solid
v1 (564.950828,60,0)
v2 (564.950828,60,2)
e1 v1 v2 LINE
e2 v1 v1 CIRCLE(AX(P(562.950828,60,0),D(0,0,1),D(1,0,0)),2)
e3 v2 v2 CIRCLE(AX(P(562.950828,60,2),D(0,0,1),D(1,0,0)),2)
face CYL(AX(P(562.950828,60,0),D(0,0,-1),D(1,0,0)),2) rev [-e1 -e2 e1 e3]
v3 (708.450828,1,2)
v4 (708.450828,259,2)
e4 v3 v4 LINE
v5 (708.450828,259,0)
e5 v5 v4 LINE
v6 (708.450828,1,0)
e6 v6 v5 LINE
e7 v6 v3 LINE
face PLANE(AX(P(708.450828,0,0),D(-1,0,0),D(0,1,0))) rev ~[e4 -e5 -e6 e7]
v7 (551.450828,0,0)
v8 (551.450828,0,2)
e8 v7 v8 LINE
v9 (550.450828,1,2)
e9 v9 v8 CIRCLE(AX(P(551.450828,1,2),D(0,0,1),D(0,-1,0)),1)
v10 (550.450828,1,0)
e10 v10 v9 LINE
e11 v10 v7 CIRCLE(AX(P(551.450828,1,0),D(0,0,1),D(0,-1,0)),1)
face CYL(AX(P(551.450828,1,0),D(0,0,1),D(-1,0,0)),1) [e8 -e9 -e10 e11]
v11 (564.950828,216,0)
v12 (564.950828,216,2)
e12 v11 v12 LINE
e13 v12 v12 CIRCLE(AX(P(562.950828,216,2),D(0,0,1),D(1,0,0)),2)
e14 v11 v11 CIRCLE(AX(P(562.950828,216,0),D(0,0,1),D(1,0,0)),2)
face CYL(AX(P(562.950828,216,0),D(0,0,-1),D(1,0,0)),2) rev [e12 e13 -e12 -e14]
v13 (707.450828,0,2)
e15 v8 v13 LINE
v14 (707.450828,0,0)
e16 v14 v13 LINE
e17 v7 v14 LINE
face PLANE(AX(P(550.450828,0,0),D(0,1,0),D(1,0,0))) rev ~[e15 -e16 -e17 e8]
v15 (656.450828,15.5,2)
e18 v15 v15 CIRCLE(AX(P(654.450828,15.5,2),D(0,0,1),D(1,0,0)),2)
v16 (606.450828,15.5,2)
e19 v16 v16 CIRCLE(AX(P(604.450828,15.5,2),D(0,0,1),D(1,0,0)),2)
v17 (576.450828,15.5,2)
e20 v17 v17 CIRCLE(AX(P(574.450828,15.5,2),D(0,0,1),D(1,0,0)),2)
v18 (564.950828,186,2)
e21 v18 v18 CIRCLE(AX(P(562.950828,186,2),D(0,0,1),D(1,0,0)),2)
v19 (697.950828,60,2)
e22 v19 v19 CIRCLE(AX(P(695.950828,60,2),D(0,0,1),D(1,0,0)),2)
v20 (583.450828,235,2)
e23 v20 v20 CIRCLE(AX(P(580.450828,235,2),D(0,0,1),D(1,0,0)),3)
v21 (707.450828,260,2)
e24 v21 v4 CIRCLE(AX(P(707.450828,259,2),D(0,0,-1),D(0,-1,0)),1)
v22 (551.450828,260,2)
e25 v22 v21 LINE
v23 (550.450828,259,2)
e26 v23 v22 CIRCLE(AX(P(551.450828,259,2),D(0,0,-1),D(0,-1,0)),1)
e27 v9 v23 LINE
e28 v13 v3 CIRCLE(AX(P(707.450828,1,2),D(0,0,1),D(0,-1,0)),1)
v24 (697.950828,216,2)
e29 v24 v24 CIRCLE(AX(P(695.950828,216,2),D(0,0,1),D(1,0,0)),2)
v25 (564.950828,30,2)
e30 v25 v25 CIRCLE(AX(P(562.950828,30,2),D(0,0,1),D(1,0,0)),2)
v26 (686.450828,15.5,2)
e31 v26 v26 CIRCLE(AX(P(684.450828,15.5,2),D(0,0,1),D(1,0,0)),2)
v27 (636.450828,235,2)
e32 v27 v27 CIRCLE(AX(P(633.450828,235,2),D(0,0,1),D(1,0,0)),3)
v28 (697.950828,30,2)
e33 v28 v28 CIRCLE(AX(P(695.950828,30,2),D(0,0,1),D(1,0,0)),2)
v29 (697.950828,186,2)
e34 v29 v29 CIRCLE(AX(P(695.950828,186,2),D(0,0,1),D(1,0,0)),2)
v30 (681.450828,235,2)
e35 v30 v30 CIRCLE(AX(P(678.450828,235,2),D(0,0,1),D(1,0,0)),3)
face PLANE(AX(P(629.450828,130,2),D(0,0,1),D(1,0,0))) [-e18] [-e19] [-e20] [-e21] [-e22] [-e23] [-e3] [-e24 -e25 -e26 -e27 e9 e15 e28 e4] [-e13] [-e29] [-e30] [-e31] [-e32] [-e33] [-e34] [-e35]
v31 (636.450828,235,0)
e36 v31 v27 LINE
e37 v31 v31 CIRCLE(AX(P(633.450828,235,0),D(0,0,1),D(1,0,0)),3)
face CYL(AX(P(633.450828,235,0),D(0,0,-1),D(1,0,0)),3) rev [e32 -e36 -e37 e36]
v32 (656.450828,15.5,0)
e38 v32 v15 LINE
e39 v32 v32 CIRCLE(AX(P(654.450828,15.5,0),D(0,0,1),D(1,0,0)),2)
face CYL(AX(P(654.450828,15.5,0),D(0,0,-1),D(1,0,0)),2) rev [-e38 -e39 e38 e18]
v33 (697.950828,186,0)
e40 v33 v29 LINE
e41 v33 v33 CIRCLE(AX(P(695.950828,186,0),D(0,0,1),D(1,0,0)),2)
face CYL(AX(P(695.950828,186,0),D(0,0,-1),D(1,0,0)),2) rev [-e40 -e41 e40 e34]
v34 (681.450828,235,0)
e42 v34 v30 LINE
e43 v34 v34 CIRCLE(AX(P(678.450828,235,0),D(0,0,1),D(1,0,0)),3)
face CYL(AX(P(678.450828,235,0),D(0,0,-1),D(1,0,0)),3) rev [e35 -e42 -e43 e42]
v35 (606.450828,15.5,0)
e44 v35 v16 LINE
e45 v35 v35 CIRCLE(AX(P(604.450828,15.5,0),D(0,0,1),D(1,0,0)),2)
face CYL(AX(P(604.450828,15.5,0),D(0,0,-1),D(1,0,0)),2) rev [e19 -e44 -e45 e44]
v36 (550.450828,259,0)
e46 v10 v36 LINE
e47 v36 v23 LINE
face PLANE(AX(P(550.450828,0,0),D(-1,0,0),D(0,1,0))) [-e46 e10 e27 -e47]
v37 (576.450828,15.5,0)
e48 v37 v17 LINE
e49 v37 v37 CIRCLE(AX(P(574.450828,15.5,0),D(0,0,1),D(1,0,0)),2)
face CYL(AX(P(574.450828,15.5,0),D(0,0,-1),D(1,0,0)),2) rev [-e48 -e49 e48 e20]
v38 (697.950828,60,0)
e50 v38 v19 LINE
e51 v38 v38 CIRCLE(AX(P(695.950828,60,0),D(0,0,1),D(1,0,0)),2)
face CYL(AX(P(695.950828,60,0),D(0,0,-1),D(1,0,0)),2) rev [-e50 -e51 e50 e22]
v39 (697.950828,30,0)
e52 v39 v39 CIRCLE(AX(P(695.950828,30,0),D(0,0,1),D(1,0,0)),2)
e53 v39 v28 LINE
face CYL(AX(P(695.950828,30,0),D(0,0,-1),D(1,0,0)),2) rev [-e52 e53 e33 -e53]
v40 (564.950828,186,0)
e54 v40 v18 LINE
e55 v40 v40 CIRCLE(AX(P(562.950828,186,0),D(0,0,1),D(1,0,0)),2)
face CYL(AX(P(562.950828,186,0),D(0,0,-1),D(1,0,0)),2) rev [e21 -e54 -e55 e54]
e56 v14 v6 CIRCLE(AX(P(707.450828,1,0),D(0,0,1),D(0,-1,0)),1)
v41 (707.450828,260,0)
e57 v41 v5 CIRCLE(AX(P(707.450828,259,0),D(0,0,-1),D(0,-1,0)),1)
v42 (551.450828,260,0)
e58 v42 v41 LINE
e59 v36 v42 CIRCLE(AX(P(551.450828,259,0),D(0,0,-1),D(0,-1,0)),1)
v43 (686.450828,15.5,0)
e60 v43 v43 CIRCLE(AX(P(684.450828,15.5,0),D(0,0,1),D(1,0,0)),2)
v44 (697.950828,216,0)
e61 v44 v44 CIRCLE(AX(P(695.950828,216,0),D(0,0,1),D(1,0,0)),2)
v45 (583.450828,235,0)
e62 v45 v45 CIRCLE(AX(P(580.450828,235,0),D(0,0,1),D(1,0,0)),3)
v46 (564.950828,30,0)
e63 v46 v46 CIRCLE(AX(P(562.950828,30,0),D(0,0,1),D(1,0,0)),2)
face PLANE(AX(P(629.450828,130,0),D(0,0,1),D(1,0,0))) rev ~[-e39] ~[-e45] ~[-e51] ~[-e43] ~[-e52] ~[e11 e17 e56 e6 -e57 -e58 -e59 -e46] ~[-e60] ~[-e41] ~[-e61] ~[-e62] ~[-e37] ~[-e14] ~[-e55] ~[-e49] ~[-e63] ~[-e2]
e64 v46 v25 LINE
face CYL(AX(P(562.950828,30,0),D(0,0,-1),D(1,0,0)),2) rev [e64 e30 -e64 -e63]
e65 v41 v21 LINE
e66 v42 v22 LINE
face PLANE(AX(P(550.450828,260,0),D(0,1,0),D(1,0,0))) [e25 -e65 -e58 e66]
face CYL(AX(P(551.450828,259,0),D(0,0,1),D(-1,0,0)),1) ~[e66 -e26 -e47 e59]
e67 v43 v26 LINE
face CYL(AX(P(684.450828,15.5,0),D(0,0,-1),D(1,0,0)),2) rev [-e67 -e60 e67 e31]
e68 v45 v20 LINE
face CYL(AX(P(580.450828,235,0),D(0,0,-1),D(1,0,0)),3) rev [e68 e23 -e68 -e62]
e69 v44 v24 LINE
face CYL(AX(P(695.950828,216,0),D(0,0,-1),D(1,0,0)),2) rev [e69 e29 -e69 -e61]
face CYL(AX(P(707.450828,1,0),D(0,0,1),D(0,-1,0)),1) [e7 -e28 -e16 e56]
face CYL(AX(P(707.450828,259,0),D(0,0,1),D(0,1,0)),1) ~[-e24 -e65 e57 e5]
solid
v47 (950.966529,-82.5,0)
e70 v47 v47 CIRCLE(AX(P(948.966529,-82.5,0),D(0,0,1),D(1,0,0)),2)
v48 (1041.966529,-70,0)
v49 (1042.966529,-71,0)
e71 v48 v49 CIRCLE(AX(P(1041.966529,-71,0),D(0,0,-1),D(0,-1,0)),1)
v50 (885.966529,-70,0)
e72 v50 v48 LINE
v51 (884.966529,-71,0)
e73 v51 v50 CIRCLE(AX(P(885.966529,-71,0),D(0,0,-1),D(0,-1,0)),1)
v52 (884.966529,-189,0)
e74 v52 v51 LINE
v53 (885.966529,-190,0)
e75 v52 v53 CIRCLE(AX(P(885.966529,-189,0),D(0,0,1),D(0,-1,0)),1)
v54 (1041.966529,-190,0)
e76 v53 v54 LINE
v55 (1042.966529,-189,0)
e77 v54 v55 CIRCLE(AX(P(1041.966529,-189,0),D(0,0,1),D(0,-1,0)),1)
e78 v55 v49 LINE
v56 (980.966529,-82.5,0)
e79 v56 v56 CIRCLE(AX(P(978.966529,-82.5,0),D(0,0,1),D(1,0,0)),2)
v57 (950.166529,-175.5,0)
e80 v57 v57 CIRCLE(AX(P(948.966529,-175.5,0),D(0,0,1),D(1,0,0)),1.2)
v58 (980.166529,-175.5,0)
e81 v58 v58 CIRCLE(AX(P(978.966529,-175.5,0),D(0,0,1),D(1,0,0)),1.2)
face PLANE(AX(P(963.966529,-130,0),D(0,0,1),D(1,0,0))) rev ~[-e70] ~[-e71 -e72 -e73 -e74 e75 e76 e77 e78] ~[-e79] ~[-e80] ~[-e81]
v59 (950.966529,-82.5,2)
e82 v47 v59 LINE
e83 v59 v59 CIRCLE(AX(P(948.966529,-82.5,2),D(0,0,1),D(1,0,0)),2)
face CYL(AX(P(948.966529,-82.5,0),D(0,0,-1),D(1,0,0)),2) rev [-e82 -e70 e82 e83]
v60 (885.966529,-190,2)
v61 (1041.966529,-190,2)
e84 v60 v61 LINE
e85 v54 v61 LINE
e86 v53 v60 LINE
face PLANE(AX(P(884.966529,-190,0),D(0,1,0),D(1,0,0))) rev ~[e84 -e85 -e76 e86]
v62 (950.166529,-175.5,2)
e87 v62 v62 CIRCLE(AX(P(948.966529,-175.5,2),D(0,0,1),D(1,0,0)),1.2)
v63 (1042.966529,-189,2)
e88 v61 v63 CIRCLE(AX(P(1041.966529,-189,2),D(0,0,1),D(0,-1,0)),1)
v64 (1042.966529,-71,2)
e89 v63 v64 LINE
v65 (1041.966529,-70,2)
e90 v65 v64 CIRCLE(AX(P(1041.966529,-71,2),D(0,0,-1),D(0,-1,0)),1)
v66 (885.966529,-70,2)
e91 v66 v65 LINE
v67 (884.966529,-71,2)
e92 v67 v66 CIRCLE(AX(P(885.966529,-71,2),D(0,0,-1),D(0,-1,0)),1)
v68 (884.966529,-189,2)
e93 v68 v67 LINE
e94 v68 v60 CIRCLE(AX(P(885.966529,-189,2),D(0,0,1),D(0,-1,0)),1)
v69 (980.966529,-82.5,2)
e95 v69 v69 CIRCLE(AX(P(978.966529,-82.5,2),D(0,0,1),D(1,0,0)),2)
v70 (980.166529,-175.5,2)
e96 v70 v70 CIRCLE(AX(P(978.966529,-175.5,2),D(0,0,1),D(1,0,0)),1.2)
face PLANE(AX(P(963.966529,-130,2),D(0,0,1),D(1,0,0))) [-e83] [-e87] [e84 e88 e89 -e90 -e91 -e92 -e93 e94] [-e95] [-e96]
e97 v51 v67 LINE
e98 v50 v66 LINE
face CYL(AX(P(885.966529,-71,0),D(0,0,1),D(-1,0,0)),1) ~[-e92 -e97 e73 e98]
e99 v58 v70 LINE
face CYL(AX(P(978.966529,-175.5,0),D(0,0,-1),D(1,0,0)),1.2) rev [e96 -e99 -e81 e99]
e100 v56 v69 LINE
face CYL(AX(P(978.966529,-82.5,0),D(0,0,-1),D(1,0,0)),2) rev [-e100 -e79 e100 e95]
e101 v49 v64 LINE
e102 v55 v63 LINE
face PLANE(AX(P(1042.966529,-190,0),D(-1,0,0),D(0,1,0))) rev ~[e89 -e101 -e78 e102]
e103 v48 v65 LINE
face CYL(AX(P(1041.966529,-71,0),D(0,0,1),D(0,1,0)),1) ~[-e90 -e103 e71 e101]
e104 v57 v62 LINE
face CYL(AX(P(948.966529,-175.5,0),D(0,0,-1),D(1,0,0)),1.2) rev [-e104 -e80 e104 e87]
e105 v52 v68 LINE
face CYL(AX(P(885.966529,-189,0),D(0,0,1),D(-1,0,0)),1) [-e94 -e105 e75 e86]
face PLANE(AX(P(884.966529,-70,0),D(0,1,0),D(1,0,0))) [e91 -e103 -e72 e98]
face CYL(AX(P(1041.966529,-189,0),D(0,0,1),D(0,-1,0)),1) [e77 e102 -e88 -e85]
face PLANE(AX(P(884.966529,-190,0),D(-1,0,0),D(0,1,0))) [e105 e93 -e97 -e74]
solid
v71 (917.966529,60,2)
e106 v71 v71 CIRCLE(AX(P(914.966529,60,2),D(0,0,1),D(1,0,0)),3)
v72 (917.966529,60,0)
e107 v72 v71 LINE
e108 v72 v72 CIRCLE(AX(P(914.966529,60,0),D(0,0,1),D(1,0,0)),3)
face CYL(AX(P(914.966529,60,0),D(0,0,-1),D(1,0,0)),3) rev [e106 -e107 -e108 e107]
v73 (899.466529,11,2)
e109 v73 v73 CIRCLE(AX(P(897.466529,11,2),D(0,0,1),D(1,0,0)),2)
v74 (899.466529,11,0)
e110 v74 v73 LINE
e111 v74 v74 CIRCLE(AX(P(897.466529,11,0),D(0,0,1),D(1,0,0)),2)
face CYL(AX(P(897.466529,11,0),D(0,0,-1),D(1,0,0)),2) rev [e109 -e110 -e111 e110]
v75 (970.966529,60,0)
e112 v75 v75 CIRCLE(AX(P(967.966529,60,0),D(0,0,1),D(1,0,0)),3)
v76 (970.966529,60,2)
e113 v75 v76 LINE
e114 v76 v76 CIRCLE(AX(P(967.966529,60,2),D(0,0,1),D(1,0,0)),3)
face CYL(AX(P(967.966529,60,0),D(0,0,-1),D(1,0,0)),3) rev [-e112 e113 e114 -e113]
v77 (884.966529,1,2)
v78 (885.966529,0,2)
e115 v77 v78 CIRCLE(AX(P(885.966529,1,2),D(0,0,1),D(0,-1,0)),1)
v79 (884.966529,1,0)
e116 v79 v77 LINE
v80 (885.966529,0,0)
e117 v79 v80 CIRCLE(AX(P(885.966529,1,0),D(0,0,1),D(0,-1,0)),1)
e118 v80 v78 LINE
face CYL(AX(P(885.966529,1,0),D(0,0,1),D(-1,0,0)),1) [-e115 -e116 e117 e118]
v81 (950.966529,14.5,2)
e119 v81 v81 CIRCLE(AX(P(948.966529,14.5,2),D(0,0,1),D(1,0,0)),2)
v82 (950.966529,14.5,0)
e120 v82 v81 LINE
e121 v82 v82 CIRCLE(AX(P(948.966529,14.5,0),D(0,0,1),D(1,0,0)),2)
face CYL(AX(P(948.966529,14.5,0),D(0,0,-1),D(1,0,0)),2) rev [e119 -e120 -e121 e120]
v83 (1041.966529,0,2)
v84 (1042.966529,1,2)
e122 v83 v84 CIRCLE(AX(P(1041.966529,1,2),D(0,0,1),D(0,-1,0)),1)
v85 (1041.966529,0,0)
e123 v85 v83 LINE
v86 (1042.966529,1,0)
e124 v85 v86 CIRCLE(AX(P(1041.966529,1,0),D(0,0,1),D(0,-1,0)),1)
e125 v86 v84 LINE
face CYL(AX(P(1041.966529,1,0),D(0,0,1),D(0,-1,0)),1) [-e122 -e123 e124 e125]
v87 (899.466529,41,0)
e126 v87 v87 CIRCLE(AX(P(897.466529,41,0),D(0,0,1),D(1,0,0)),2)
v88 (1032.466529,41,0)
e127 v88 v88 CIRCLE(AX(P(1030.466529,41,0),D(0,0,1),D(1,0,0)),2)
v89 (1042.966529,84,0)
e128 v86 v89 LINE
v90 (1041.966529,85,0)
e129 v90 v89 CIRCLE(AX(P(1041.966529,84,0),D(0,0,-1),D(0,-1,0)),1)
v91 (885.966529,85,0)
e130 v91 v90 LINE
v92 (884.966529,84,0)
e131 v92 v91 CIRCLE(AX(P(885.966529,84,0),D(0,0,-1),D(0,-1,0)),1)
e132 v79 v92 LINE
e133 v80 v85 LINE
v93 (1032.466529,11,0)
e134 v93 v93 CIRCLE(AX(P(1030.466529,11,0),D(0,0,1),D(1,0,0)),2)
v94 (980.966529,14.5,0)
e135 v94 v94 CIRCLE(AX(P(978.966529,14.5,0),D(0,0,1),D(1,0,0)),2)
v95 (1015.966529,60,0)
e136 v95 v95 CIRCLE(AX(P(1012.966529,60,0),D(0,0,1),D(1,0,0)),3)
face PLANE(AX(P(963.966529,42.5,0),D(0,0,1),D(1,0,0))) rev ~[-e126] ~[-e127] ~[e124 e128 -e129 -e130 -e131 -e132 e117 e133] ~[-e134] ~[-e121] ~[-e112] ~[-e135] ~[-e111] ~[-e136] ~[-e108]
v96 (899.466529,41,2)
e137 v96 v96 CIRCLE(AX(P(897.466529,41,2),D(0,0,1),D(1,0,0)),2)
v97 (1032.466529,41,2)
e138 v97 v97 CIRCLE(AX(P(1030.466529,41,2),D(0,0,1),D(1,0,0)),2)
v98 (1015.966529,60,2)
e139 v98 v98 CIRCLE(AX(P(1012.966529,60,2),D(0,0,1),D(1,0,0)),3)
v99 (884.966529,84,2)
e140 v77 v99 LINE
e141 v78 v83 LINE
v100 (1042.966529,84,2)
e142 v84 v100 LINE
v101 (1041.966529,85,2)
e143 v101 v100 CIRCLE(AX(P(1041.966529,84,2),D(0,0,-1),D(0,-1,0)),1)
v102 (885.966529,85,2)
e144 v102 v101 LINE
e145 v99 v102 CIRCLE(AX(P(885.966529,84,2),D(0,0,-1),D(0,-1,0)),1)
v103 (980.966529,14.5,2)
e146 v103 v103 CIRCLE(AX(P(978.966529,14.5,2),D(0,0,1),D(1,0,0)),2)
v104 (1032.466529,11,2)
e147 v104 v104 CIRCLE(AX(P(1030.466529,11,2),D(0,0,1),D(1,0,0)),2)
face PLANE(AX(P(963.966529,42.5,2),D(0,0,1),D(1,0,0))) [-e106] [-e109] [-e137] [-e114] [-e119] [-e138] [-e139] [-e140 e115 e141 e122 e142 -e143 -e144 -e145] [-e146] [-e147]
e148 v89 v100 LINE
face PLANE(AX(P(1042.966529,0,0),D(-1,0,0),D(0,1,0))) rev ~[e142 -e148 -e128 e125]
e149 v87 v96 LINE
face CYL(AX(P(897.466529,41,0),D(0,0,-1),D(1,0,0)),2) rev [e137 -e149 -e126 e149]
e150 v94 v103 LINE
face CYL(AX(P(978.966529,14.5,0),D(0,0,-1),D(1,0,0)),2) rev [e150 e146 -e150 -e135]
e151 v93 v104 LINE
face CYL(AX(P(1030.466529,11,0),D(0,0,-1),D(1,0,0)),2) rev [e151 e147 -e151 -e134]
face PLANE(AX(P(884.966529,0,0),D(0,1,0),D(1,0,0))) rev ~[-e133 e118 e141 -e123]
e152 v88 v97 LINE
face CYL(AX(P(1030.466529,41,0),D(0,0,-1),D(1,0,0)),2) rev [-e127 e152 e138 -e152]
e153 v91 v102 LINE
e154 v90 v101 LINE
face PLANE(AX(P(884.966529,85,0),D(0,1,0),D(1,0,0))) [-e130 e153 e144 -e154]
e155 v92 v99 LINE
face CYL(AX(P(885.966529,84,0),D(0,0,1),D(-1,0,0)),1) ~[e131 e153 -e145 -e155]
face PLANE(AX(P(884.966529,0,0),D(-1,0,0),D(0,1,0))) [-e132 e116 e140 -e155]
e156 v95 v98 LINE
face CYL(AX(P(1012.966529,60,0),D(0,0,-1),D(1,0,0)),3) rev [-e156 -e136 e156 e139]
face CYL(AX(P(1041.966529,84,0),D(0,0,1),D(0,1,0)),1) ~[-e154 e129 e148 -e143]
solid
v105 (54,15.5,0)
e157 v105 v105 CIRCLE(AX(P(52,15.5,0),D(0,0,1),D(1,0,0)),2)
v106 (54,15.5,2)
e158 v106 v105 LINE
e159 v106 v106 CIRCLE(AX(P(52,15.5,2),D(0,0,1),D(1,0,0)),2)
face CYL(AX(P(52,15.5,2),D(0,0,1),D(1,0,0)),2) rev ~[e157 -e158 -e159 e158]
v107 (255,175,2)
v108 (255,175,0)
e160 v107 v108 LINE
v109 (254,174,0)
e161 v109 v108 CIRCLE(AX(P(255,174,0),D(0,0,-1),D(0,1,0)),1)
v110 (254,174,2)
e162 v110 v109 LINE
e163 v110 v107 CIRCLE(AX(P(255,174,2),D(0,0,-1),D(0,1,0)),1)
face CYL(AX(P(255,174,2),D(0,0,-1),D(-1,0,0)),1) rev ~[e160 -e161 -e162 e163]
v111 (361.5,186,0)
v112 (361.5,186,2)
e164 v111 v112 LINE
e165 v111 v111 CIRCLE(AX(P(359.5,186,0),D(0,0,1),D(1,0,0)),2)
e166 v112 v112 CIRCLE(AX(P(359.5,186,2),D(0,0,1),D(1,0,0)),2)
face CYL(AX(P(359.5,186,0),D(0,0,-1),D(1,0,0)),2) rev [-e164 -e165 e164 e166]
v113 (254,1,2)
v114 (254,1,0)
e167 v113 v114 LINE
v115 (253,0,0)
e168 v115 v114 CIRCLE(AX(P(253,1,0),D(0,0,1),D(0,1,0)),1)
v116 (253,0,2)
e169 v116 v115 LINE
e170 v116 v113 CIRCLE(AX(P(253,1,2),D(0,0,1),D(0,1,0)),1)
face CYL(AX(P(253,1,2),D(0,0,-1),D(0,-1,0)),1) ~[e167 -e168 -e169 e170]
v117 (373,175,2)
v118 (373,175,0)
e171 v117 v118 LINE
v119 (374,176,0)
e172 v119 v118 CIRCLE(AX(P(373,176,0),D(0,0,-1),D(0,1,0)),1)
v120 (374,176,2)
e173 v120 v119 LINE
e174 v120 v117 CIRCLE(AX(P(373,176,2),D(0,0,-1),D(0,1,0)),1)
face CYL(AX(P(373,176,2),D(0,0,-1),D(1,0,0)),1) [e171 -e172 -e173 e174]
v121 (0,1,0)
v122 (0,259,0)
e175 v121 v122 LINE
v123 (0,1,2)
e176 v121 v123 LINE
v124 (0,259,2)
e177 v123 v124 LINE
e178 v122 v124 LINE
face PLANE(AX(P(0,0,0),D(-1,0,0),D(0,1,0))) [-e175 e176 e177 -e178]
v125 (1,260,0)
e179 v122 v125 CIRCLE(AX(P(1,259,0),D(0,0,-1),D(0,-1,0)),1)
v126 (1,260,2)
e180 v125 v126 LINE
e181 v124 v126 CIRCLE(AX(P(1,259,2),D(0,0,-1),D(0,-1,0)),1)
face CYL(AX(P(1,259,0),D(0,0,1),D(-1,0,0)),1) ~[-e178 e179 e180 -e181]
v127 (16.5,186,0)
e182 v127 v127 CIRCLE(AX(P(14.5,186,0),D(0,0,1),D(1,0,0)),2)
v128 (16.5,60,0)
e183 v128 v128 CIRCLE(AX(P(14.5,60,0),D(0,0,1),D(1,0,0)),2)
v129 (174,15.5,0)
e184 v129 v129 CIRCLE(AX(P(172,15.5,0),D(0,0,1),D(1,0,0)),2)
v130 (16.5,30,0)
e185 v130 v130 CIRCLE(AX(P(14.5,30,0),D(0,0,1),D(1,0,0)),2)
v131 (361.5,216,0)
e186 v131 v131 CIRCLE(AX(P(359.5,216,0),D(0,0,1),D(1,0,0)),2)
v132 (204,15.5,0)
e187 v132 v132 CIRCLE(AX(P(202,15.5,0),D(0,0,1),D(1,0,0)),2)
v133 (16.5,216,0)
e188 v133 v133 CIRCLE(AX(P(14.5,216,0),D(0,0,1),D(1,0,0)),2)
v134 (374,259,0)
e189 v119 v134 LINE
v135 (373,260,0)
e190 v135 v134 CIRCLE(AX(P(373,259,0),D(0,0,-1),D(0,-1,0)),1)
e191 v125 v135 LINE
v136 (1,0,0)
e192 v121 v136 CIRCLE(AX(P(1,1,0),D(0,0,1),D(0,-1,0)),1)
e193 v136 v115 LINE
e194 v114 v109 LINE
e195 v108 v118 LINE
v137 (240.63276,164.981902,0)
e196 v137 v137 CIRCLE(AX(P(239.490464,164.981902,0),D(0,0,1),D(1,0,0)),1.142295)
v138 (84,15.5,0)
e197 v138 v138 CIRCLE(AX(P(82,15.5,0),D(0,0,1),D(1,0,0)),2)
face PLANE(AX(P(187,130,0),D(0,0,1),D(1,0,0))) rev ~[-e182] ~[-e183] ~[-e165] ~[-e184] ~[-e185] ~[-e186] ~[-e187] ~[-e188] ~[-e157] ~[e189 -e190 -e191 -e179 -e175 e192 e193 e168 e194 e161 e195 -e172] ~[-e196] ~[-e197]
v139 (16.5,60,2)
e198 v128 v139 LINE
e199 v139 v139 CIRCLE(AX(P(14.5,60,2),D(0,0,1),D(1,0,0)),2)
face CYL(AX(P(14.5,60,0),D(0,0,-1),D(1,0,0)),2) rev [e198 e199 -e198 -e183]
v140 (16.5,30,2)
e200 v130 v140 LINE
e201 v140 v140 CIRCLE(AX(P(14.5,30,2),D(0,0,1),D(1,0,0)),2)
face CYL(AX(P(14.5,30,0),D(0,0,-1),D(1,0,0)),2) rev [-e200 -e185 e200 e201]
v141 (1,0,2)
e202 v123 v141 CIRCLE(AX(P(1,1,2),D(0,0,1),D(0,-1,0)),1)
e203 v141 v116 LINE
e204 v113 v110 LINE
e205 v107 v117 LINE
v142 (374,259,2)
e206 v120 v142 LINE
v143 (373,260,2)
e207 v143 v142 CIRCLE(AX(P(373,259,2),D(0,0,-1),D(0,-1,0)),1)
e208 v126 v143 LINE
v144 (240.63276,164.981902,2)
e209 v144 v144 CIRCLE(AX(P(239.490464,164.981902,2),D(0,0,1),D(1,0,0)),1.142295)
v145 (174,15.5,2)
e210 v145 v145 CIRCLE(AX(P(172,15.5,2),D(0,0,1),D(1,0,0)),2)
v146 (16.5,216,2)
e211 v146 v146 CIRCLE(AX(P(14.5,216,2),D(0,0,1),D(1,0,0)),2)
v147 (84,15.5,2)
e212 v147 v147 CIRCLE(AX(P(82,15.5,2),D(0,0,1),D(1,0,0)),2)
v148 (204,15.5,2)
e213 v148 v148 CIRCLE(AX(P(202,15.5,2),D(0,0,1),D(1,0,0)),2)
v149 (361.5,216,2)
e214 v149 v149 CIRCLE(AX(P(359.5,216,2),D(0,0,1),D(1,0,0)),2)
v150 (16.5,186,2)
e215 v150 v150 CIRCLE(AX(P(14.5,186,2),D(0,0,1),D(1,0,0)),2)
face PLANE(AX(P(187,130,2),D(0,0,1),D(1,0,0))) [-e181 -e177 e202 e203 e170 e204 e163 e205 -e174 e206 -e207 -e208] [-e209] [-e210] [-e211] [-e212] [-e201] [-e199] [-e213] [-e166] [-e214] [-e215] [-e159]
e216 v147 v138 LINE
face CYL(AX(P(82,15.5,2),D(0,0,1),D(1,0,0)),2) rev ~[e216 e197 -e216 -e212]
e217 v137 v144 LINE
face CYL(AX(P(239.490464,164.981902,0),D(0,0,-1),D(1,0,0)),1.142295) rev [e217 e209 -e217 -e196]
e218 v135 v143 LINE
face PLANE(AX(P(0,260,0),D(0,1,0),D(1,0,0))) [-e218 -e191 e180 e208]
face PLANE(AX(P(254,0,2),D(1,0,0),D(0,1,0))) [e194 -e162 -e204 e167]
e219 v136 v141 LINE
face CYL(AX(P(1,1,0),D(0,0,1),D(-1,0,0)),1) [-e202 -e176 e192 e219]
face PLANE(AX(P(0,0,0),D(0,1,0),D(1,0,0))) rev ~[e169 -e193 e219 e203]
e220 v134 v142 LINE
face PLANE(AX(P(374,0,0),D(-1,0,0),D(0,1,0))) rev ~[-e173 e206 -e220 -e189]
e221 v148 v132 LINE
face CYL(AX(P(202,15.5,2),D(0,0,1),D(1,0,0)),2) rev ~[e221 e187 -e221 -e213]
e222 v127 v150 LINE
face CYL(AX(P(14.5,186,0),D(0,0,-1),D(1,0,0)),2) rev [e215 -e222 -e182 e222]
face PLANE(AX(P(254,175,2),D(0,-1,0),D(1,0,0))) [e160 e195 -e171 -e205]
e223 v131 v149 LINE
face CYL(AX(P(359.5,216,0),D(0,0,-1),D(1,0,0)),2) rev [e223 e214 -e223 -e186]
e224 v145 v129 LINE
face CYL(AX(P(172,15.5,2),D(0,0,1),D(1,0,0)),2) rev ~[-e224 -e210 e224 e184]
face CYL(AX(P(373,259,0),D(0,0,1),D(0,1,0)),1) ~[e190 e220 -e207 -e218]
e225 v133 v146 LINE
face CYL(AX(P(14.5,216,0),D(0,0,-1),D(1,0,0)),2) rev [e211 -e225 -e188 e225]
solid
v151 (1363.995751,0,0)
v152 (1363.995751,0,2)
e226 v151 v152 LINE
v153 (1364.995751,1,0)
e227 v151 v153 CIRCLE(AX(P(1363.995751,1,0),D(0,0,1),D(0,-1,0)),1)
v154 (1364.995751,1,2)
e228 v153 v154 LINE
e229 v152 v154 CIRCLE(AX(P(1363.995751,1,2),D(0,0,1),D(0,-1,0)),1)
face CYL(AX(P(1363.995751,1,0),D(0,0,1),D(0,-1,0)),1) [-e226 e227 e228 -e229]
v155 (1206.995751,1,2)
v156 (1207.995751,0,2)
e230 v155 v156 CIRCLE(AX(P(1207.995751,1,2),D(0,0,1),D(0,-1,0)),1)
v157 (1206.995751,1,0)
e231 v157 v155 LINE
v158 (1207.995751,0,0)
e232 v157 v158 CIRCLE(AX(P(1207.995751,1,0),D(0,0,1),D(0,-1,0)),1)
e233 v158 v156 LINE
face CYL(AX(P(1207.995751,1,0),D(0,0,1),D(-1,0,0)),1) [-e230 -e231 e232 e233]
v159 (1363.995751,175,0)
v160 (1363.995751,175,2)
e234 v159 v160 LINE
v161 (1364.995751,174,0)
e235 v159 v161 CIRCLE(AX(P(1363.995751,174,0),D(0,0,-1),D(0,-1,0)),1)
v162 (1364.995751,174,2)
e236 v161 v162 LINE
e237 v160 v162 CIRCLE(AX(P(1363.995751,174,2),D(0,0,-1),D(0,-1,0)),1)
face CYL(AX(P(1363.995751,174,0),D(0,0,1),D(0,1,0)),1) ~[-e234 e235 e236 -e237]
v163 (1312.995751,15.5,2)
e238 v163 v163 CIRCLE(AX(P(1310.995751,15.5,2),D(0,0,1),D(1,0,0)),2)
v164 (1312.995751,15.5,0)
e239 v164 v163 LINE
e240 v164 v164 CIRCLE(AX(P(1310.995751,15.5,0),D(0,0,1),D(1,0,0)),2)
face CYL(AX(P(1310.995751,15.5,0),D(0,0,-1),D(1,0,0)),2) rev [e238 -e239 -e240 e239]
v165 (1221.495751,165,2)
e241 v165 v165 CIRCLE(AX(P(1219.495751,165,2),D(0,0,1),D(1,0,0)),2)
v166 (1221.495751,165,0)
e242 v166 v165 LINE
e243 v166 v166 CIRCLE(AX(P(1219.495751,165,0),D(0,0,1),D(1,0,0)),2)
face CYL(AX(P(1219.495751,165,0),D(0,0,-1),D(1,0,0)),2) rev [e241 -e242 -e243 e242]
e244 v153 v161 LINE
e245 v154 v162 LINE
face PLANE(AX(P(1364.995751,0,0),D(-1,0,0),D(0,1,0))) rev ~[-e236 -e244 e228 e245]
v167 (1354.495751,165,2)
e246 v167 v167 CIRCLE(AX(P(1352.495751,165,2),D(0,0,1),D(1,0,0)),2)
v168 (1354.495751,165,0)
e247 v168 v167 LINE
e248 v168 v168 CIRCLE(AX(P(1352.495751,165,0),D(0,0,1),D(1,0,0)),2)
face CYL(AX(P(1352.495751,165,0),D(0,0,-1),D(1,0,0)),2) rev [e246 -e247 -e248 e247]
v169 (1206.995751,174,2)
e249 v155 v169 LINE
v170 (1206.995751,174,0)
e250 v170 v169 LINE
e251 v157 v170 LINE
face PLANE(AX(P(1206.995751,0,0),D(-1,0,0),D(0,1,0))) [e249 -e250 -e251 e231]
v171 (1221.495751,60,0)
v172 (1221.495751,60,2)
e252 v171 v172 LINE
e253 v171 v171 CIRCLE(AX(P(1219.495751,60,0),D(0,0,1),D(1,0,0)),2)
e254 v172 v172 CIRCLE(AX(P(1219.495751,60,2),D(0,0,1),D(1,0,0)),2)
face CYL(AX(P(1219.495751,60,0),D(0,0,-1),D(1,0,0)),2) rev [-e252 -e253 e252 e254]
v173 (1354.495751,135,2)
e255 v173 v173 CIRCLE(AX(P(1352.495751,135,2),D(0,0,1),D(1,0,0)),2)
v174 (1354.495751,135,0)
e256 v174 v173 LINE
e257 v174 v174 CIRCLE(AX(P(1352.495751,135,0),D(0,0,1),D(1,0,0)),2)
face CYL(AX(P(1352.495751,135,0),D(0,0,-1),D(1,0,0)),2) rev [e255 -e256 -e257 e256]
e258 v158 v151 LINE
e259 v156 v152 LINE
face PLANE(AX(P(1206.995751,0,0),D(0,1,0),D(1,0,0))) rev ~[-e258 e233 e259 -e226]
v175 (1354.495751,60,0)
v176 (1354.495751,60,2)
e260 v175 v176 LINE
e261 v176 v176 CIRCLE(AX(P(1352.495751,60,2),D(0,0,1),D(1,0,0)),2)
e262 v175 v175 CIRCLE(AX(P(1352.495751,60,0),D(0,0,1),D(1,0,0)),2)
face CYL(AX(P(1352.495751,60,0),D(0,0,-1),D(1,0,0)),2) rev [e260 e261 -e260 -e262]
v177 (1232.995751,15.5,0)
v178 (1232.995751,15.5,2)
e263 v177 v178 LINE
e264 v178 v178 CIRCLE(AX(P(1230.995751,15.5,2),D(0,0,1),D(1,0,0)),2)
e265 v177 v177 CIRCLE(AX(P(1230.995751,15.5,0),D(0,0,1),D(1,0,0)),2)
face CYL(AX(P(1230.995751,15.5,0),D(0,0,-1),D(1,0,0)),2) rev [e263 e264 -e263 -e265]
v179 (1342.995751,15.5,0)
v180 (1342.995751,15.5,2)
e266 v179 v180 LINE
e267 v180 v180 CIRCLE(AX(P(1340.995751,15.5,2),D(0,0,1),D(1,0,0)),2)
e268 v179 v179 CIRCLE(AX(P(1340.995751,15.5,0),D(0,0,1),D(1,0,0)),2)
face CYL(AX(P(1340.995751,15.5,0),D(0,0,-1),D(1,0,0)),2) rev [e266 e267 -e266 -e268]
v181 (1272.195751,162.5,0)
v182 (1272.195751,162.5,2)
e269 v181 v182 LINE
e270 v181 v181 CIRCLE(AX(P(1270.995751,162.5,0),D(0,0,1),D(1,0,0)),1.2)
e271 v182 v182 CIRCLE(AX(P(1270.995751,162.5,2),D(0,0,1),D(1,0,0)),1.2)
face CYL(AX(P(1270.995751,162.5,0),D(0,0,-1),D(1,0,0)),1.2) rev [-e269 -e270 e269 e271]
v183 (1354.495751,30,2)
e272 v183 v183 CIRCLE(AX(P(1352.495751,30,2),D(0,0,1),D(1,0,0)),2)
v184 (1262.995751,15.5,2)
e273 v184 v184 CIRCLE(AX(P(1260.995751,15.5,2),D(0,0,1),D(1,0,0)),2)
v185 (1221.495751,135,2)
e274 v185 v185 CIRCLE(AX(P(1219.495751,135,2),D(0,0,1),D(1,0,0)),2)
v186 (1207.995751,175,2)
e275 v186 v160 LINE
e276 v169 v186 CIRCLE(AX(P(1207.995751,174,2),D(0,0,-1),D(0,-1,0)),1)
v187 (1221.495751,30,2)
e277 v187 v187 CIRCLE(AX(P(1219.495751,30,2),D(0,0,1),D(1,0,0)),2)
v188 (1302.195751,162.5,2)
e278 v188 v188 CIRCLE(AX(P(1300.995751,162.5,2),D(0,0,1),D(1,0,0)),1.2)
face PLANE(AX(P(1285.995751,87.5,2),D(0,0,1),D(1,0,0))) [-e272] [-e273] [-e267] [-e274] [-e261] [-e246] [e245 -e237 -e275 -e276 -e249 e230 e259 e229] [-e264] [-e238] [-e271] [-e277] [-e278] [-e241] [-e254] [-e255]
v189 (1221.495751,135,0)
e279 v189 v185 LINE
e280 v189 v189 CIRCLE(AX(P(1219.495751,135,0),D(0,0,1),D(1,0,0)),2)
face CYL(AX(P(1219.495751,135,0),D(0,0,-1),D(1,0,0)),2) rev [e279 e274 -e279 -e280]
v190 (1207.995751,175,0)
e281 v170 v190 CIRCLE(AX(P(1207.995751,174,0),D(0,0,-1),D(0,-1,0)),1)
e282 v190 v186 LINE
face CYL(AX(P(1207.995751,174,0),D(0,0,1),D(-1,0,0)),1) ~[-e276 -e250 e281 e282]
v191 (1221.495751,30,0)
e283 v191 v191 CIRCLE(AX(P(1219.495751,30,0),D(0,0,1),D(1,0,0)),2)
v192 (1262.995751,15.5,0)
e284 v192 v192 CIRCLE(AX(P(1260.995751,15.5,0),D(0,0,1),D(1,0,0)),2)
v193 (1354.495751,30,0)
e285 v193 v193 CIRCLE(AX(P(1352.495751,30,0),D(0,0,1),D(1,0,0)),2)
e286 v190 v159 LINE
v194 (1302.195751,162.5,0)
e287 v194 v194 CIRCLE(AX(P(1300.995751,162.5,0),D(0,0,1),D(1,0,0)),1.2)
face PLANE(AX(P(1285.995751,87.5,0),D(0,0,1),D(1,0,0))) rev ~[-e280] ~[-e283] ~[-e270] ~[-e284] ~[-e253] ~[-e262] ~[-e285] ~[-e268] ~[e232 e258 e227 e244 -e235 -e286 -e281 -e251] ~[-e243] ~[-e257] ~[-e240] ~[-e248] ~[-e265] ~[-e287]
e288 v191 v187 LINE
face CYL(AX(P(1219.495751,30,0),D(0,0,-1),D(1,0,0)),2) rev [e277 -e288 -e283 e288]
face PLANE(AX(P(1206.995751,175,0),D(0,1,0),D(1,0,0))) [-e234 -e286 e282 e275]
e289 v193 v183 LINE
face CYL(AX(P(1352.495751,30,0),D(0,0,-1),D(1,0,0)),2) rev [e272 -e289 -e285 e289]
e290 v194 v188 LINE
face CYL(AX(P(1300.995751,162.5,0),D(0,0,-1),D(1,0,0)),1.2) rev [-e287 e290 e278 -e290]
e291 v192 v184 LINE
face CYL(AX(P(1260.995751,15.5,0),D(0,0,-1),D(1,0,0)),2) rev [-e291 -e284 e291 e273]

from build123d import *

# Parameters (mm, degrees)
F0_W     = 374
F0_H     = 260
F0_R     = 2
F0_R_2   = 1.1422954985
F1_DEPTH = 2
F0_W_2   = 158
F0_R_3   = 3
F0_H_2   = 85
F0_H_3   = 175
F0_R_4   = 1.2
F0_H_4   = 120
F2_W     = 120
F2_H     = 175
F2_R     = 2
F3_DEPTH = 25
F4_R     = 1
F4_2_R   = 1
F4_3_R   = 1
F4_4_R   = 1
F4_5_R   = 1


with BuildPart() as f1:
    # F0 (on Top) → F1 (new body)
    with BuildSketch(Plane.XY):
        with Locations((187, 130)):
            Rectangle(F0_W, F0_H)
        with Locations((14.5, 30)):
            Circle(F0_R, mode=Mode.SUBTRACT)
        with Locations((14.5, 60)):
            Circle(F0_R, mode=Mode.SUBTRACT)
        with Locations((14.5, 186)):
            Circle(F0_R, mode=Mode.SUBTRACT)
        with Locations((239.4904643297, 164.9819016457)):
            Circle(F0_R_2, mode=Mode.SUBTRACT)
        with Locations((14.5, 216)):
            Circle(F0_R, mode=Mode.SUBTRACT)
        with Locations((359.5, 186)):
            Circle(F0_R, mode=Mode.SUBTRACT)
        with Locations((359.5, 216)):
            Circle(F0_R, mode=Mode.SUBTRACT)
    extrude(amount=F1_DEPTH)

    # F2 (on face) → F3 (cut)
    with BuildSketch(Plane.XY.offset(2)):
        with Locations((314, 87.5)):
            Rectangle(F2_W, F2_H)
        with Locations((52, 15.5)):
            Circle(F2_R)
        with Locations((82, 15.5)):
            Circle(F2_R)
        with Locations((172, 15.5)):
            Circle(F2_R)
        with Locations((202, 15.5)):
            Circle(F2_R)
    extrude(amount=-F3_DEPTH, mode=Mode.SUBTRACT)

    # F4#2
    f4_2_edges = [f1.edges().sort_by_distance(p)[0] for p in [
        (0, 260, 1),
        (0, 0, 1),
        (254, 0, 1),
        (254, 175, 1),
        (374, 175, 1),
        (374, 260, 1),
    ]]
    fillet(f4_2_edges, radius=F4_2_R)


with BuildPart() as f1b:
    # F0 (on Top) → F1, piece 2 (new body)
    with BuildSketch(Plane.XY):
        with Locations((629.4508275986, 130)):
            Rectangle(F0_W_2, F0_H)
        with Locations((574.4508275986, 15.5)):
            Circle(F0_R, mode=Mode.SUBTRACT)
        with Locations((562.9508275986, 30)):
            Circle(F0_R, mode=Mode.SUBTRACT)
        with Locations((604.4508275986, 15.5)):
            Circle(F0_R, mode=Mode.SUBTRACT)
        with Locations((654.4508275986, 15.5)):
            Circle(F0_R, mode=Mode.SUBTRACT)
        with Locations((684.4508275986, 15.5)):
            Circle(F0_R, mode=Mode.SUBTRACT)
        with Locations((695.9508275986, 30)):
            Circle(F0_R, mode=Mode.SUBTRACT)
        with Locations((562.9508275986, 60)):
            Circle(F0_R, mode=Mode.SUBTRACT)
        with Locations((562.9508275986, 186)):
            Circle(F0_R, mode=Mode.SUBTRACT)
        with Locations((562.9508275986, 216)):
            Circle(F0_R, mode=Mode.SUBTRACT)
        with Locations((580.4508275986, 235)):
            Circle(F0_R_3, mode=Mode.SUBTRACT)
        with Locations((633.4508275986, 235)):
            Circle(F0_R_3, mode=Mode.SUBTRACT)
        with Locations((678.4508275986, 235)):
            Circle(F0_R_3, mode=Mode.SUBTRACT)
        with Locations((695.9508275986, 60)):
            Circle(F0_R, mode=Mode.SUBTRACT)
        with Locations((695.9508275986, 186)):
            Circle(F0_R, mode=Mode.SUBTRACT)
        with Locations((695.9508275986, 216)):
            Circle(F0_R, mode=Mode.SUBTRACT)
    extrude(amount=F1_DEPTH)

    # F4#3
    f4_3_edges = [f1b.edges().sort_by_distance(p)[0] for p in [
        (550.450828, 260, 1),
        (708.450828, 260, 1),
        (708.450828, 0, 1),
        (550.450828, 0, 1),
    ]]
    fillet(f4_3_edges, radius=F4_3_R)


with BuildPart() as f1c:
    # F0 (on Top) → F1, piece 3 (new body)
    with BuildSketch(Plane.XY):
        with Locations((963.9665292694, 42.5)):
            Rectangle(F0_W_2, F0_H_2)
        with Locations((897.4665292694, 11)):
            Circle(F0_R, mode=Mode.SUBTRACT)
        with Locations((948.9665292694, 14.5)):
            Circle(F0_R, mode=Mode.SUBTRACT)
        with Locations((978.9665292694, 14.5)):
            Circle(F0_R, mode=Mode.SUBTRACT)
        with Locations((1030.4665292694, 11)):
            Circle(F0_R, mode=Mode.SUBTRACT)
        with Locations((897.4665292694, 41)):
            Circle(F0_R, mode=Mode.SUBTRACT)
        with Locations((914.9665292694, 60)):
            Circle(F0_R_3, mode=Mode.SUBTRACT)
        with Locations((967.9665292694, 60)):
            Circle(F0_R_3, mode=Mode.SUBTRACT)
        with Locations((1012.9665292694, 60)):
            Circle(F0_R_3, mode=Mode.SUBTRACT)
        with Locations((1030.4665292694, 41)):
            Circle(F0_R, mode=Mode.SUBTRACT)
    extrude(amount=F1_DEPTH)

    # F4
    f4_edges = [f1c.edges().sort_by_distance(p)[0] for p in [
        (1042.966529, 85, 1),
        (1042.966529, 0, 1),
        (884.966529, 0, 1),
        (884.966529, 85, 1),
    ]]
    fillet(f4_edges, radius=F4_R)


with BuildPart() as f1d:
    # F0 (on Top) → F1, piece 4 (new body)
    with BuildSketch(Plane.XY):
        with Locations((1285.9957513809, 87.5)):
            Rectangle(F0_W_2, F0_H_3)
        with Locations((1230.9957513809, 15.5)):
            Circle(F0_R, mode=Mode.SUBTRACT)
        with Locations((1260.9957513809, 15.5)):
            Circle(F0_R, mode=Mode.SUBTRACT)
        with Locations((1219.4957513809, 30)):
            Circle(F0_R, mode=Mode.SUBTRACT)
        with Locations((1310.9957513809, 15.5)):
            Circle(F0_R, mode=Mode.SUBTRACT)
        with Locations((1340.9957513809, 15.5)):
            Circle(F0_R, mode=Mode.SUBTRACT)
        with Locations((1352.4957513809, 30)):
            Circle(F0_R, mode=Mode.SUBTRACT)
        with Locations((1219.4957513809, 60)):
            Circle(F0_R, mode=Mode.SUBTRACT)
        with Locations((1352.4957513809, 60)):
            Circle(F0_R, mode=Mode.SUBTRACT)
        with Locations((1219.4957513809, 135)):
            Circle(F0_R, mode=Mode.SUBTRACT)
        with Locations((1352.4957513809, 135)):
            Circle(F0_R, mode=Mode.SUBTRACT)
        with Locations((1219.4957513809, 165)):
            Circle(F0_R, mode=Mode.SUBTRACT)
        with Locations((1270.9957513809, 162.5)):
            Circle(F0_R_4, mode=Mode.SUBTRACT)
        with Locations((1300.9957513809, 162.5)):
            Circle(F0_R_4, mode=Mode.SUBTRACT)
        with Locations((1352.4957513809, 165)):
            Circle(F0_R, mode=Mode.SUBTRACT)
    extrude(amount=F1_DEPTH)

    # F4#5
    f4_5_edges = [f1d.edges().sort_by_distance(p)[0] for p in [
        (1206.995751, 175, 1),
        (1206.995751, 0, 1),
        (1364.995751, 175, 1),
        (1364.995751, 0, 1),
    ]]
    fillet(f4_5_edges, radius=F4_5_R)


with BuildPart() as f1e:
    # F0 (on Top) → F1, piece 5 (new body)
    with BuildSketch(Plane.XY):
        with Locations((963.9665292694, -130)):
            Rectangle(F0_W_2, F0_H_4)
        with Locations((948.9665292694, -175.5)):
            Circle(F0_R_4, mode=Mode.SUBTRACT)
        with Locations((978.9665292694, -175.5)):
            Circle(F0_R_4, mode=Mode.SUBTRACT)
        with Locations((948.9665292694, -82.5)):
            Circle(F0_R, mode=Mode.SUBTRACT)
        with Locations((978.9665292694, -82.5)):
            Circle(F0_R, mode=Mode.SUBTRACT)
    extrude(amount=F1_DEPTH)

    # F4#4
    f4_4_edges = [f1e.edges().sort_by_distance(p)[0] for p in [
        (884.966529, -70, 1),
        (884.966529, -190, 1),
        (1042.966529, -70, 1),
        (1042.966529, -190, 1),
    ]]
    fillet(f4_4_edges, radius=F4_4_R)


solid = Compound([f1.part, f1b.part, f1c.part, f1d.part, f1e.part])
